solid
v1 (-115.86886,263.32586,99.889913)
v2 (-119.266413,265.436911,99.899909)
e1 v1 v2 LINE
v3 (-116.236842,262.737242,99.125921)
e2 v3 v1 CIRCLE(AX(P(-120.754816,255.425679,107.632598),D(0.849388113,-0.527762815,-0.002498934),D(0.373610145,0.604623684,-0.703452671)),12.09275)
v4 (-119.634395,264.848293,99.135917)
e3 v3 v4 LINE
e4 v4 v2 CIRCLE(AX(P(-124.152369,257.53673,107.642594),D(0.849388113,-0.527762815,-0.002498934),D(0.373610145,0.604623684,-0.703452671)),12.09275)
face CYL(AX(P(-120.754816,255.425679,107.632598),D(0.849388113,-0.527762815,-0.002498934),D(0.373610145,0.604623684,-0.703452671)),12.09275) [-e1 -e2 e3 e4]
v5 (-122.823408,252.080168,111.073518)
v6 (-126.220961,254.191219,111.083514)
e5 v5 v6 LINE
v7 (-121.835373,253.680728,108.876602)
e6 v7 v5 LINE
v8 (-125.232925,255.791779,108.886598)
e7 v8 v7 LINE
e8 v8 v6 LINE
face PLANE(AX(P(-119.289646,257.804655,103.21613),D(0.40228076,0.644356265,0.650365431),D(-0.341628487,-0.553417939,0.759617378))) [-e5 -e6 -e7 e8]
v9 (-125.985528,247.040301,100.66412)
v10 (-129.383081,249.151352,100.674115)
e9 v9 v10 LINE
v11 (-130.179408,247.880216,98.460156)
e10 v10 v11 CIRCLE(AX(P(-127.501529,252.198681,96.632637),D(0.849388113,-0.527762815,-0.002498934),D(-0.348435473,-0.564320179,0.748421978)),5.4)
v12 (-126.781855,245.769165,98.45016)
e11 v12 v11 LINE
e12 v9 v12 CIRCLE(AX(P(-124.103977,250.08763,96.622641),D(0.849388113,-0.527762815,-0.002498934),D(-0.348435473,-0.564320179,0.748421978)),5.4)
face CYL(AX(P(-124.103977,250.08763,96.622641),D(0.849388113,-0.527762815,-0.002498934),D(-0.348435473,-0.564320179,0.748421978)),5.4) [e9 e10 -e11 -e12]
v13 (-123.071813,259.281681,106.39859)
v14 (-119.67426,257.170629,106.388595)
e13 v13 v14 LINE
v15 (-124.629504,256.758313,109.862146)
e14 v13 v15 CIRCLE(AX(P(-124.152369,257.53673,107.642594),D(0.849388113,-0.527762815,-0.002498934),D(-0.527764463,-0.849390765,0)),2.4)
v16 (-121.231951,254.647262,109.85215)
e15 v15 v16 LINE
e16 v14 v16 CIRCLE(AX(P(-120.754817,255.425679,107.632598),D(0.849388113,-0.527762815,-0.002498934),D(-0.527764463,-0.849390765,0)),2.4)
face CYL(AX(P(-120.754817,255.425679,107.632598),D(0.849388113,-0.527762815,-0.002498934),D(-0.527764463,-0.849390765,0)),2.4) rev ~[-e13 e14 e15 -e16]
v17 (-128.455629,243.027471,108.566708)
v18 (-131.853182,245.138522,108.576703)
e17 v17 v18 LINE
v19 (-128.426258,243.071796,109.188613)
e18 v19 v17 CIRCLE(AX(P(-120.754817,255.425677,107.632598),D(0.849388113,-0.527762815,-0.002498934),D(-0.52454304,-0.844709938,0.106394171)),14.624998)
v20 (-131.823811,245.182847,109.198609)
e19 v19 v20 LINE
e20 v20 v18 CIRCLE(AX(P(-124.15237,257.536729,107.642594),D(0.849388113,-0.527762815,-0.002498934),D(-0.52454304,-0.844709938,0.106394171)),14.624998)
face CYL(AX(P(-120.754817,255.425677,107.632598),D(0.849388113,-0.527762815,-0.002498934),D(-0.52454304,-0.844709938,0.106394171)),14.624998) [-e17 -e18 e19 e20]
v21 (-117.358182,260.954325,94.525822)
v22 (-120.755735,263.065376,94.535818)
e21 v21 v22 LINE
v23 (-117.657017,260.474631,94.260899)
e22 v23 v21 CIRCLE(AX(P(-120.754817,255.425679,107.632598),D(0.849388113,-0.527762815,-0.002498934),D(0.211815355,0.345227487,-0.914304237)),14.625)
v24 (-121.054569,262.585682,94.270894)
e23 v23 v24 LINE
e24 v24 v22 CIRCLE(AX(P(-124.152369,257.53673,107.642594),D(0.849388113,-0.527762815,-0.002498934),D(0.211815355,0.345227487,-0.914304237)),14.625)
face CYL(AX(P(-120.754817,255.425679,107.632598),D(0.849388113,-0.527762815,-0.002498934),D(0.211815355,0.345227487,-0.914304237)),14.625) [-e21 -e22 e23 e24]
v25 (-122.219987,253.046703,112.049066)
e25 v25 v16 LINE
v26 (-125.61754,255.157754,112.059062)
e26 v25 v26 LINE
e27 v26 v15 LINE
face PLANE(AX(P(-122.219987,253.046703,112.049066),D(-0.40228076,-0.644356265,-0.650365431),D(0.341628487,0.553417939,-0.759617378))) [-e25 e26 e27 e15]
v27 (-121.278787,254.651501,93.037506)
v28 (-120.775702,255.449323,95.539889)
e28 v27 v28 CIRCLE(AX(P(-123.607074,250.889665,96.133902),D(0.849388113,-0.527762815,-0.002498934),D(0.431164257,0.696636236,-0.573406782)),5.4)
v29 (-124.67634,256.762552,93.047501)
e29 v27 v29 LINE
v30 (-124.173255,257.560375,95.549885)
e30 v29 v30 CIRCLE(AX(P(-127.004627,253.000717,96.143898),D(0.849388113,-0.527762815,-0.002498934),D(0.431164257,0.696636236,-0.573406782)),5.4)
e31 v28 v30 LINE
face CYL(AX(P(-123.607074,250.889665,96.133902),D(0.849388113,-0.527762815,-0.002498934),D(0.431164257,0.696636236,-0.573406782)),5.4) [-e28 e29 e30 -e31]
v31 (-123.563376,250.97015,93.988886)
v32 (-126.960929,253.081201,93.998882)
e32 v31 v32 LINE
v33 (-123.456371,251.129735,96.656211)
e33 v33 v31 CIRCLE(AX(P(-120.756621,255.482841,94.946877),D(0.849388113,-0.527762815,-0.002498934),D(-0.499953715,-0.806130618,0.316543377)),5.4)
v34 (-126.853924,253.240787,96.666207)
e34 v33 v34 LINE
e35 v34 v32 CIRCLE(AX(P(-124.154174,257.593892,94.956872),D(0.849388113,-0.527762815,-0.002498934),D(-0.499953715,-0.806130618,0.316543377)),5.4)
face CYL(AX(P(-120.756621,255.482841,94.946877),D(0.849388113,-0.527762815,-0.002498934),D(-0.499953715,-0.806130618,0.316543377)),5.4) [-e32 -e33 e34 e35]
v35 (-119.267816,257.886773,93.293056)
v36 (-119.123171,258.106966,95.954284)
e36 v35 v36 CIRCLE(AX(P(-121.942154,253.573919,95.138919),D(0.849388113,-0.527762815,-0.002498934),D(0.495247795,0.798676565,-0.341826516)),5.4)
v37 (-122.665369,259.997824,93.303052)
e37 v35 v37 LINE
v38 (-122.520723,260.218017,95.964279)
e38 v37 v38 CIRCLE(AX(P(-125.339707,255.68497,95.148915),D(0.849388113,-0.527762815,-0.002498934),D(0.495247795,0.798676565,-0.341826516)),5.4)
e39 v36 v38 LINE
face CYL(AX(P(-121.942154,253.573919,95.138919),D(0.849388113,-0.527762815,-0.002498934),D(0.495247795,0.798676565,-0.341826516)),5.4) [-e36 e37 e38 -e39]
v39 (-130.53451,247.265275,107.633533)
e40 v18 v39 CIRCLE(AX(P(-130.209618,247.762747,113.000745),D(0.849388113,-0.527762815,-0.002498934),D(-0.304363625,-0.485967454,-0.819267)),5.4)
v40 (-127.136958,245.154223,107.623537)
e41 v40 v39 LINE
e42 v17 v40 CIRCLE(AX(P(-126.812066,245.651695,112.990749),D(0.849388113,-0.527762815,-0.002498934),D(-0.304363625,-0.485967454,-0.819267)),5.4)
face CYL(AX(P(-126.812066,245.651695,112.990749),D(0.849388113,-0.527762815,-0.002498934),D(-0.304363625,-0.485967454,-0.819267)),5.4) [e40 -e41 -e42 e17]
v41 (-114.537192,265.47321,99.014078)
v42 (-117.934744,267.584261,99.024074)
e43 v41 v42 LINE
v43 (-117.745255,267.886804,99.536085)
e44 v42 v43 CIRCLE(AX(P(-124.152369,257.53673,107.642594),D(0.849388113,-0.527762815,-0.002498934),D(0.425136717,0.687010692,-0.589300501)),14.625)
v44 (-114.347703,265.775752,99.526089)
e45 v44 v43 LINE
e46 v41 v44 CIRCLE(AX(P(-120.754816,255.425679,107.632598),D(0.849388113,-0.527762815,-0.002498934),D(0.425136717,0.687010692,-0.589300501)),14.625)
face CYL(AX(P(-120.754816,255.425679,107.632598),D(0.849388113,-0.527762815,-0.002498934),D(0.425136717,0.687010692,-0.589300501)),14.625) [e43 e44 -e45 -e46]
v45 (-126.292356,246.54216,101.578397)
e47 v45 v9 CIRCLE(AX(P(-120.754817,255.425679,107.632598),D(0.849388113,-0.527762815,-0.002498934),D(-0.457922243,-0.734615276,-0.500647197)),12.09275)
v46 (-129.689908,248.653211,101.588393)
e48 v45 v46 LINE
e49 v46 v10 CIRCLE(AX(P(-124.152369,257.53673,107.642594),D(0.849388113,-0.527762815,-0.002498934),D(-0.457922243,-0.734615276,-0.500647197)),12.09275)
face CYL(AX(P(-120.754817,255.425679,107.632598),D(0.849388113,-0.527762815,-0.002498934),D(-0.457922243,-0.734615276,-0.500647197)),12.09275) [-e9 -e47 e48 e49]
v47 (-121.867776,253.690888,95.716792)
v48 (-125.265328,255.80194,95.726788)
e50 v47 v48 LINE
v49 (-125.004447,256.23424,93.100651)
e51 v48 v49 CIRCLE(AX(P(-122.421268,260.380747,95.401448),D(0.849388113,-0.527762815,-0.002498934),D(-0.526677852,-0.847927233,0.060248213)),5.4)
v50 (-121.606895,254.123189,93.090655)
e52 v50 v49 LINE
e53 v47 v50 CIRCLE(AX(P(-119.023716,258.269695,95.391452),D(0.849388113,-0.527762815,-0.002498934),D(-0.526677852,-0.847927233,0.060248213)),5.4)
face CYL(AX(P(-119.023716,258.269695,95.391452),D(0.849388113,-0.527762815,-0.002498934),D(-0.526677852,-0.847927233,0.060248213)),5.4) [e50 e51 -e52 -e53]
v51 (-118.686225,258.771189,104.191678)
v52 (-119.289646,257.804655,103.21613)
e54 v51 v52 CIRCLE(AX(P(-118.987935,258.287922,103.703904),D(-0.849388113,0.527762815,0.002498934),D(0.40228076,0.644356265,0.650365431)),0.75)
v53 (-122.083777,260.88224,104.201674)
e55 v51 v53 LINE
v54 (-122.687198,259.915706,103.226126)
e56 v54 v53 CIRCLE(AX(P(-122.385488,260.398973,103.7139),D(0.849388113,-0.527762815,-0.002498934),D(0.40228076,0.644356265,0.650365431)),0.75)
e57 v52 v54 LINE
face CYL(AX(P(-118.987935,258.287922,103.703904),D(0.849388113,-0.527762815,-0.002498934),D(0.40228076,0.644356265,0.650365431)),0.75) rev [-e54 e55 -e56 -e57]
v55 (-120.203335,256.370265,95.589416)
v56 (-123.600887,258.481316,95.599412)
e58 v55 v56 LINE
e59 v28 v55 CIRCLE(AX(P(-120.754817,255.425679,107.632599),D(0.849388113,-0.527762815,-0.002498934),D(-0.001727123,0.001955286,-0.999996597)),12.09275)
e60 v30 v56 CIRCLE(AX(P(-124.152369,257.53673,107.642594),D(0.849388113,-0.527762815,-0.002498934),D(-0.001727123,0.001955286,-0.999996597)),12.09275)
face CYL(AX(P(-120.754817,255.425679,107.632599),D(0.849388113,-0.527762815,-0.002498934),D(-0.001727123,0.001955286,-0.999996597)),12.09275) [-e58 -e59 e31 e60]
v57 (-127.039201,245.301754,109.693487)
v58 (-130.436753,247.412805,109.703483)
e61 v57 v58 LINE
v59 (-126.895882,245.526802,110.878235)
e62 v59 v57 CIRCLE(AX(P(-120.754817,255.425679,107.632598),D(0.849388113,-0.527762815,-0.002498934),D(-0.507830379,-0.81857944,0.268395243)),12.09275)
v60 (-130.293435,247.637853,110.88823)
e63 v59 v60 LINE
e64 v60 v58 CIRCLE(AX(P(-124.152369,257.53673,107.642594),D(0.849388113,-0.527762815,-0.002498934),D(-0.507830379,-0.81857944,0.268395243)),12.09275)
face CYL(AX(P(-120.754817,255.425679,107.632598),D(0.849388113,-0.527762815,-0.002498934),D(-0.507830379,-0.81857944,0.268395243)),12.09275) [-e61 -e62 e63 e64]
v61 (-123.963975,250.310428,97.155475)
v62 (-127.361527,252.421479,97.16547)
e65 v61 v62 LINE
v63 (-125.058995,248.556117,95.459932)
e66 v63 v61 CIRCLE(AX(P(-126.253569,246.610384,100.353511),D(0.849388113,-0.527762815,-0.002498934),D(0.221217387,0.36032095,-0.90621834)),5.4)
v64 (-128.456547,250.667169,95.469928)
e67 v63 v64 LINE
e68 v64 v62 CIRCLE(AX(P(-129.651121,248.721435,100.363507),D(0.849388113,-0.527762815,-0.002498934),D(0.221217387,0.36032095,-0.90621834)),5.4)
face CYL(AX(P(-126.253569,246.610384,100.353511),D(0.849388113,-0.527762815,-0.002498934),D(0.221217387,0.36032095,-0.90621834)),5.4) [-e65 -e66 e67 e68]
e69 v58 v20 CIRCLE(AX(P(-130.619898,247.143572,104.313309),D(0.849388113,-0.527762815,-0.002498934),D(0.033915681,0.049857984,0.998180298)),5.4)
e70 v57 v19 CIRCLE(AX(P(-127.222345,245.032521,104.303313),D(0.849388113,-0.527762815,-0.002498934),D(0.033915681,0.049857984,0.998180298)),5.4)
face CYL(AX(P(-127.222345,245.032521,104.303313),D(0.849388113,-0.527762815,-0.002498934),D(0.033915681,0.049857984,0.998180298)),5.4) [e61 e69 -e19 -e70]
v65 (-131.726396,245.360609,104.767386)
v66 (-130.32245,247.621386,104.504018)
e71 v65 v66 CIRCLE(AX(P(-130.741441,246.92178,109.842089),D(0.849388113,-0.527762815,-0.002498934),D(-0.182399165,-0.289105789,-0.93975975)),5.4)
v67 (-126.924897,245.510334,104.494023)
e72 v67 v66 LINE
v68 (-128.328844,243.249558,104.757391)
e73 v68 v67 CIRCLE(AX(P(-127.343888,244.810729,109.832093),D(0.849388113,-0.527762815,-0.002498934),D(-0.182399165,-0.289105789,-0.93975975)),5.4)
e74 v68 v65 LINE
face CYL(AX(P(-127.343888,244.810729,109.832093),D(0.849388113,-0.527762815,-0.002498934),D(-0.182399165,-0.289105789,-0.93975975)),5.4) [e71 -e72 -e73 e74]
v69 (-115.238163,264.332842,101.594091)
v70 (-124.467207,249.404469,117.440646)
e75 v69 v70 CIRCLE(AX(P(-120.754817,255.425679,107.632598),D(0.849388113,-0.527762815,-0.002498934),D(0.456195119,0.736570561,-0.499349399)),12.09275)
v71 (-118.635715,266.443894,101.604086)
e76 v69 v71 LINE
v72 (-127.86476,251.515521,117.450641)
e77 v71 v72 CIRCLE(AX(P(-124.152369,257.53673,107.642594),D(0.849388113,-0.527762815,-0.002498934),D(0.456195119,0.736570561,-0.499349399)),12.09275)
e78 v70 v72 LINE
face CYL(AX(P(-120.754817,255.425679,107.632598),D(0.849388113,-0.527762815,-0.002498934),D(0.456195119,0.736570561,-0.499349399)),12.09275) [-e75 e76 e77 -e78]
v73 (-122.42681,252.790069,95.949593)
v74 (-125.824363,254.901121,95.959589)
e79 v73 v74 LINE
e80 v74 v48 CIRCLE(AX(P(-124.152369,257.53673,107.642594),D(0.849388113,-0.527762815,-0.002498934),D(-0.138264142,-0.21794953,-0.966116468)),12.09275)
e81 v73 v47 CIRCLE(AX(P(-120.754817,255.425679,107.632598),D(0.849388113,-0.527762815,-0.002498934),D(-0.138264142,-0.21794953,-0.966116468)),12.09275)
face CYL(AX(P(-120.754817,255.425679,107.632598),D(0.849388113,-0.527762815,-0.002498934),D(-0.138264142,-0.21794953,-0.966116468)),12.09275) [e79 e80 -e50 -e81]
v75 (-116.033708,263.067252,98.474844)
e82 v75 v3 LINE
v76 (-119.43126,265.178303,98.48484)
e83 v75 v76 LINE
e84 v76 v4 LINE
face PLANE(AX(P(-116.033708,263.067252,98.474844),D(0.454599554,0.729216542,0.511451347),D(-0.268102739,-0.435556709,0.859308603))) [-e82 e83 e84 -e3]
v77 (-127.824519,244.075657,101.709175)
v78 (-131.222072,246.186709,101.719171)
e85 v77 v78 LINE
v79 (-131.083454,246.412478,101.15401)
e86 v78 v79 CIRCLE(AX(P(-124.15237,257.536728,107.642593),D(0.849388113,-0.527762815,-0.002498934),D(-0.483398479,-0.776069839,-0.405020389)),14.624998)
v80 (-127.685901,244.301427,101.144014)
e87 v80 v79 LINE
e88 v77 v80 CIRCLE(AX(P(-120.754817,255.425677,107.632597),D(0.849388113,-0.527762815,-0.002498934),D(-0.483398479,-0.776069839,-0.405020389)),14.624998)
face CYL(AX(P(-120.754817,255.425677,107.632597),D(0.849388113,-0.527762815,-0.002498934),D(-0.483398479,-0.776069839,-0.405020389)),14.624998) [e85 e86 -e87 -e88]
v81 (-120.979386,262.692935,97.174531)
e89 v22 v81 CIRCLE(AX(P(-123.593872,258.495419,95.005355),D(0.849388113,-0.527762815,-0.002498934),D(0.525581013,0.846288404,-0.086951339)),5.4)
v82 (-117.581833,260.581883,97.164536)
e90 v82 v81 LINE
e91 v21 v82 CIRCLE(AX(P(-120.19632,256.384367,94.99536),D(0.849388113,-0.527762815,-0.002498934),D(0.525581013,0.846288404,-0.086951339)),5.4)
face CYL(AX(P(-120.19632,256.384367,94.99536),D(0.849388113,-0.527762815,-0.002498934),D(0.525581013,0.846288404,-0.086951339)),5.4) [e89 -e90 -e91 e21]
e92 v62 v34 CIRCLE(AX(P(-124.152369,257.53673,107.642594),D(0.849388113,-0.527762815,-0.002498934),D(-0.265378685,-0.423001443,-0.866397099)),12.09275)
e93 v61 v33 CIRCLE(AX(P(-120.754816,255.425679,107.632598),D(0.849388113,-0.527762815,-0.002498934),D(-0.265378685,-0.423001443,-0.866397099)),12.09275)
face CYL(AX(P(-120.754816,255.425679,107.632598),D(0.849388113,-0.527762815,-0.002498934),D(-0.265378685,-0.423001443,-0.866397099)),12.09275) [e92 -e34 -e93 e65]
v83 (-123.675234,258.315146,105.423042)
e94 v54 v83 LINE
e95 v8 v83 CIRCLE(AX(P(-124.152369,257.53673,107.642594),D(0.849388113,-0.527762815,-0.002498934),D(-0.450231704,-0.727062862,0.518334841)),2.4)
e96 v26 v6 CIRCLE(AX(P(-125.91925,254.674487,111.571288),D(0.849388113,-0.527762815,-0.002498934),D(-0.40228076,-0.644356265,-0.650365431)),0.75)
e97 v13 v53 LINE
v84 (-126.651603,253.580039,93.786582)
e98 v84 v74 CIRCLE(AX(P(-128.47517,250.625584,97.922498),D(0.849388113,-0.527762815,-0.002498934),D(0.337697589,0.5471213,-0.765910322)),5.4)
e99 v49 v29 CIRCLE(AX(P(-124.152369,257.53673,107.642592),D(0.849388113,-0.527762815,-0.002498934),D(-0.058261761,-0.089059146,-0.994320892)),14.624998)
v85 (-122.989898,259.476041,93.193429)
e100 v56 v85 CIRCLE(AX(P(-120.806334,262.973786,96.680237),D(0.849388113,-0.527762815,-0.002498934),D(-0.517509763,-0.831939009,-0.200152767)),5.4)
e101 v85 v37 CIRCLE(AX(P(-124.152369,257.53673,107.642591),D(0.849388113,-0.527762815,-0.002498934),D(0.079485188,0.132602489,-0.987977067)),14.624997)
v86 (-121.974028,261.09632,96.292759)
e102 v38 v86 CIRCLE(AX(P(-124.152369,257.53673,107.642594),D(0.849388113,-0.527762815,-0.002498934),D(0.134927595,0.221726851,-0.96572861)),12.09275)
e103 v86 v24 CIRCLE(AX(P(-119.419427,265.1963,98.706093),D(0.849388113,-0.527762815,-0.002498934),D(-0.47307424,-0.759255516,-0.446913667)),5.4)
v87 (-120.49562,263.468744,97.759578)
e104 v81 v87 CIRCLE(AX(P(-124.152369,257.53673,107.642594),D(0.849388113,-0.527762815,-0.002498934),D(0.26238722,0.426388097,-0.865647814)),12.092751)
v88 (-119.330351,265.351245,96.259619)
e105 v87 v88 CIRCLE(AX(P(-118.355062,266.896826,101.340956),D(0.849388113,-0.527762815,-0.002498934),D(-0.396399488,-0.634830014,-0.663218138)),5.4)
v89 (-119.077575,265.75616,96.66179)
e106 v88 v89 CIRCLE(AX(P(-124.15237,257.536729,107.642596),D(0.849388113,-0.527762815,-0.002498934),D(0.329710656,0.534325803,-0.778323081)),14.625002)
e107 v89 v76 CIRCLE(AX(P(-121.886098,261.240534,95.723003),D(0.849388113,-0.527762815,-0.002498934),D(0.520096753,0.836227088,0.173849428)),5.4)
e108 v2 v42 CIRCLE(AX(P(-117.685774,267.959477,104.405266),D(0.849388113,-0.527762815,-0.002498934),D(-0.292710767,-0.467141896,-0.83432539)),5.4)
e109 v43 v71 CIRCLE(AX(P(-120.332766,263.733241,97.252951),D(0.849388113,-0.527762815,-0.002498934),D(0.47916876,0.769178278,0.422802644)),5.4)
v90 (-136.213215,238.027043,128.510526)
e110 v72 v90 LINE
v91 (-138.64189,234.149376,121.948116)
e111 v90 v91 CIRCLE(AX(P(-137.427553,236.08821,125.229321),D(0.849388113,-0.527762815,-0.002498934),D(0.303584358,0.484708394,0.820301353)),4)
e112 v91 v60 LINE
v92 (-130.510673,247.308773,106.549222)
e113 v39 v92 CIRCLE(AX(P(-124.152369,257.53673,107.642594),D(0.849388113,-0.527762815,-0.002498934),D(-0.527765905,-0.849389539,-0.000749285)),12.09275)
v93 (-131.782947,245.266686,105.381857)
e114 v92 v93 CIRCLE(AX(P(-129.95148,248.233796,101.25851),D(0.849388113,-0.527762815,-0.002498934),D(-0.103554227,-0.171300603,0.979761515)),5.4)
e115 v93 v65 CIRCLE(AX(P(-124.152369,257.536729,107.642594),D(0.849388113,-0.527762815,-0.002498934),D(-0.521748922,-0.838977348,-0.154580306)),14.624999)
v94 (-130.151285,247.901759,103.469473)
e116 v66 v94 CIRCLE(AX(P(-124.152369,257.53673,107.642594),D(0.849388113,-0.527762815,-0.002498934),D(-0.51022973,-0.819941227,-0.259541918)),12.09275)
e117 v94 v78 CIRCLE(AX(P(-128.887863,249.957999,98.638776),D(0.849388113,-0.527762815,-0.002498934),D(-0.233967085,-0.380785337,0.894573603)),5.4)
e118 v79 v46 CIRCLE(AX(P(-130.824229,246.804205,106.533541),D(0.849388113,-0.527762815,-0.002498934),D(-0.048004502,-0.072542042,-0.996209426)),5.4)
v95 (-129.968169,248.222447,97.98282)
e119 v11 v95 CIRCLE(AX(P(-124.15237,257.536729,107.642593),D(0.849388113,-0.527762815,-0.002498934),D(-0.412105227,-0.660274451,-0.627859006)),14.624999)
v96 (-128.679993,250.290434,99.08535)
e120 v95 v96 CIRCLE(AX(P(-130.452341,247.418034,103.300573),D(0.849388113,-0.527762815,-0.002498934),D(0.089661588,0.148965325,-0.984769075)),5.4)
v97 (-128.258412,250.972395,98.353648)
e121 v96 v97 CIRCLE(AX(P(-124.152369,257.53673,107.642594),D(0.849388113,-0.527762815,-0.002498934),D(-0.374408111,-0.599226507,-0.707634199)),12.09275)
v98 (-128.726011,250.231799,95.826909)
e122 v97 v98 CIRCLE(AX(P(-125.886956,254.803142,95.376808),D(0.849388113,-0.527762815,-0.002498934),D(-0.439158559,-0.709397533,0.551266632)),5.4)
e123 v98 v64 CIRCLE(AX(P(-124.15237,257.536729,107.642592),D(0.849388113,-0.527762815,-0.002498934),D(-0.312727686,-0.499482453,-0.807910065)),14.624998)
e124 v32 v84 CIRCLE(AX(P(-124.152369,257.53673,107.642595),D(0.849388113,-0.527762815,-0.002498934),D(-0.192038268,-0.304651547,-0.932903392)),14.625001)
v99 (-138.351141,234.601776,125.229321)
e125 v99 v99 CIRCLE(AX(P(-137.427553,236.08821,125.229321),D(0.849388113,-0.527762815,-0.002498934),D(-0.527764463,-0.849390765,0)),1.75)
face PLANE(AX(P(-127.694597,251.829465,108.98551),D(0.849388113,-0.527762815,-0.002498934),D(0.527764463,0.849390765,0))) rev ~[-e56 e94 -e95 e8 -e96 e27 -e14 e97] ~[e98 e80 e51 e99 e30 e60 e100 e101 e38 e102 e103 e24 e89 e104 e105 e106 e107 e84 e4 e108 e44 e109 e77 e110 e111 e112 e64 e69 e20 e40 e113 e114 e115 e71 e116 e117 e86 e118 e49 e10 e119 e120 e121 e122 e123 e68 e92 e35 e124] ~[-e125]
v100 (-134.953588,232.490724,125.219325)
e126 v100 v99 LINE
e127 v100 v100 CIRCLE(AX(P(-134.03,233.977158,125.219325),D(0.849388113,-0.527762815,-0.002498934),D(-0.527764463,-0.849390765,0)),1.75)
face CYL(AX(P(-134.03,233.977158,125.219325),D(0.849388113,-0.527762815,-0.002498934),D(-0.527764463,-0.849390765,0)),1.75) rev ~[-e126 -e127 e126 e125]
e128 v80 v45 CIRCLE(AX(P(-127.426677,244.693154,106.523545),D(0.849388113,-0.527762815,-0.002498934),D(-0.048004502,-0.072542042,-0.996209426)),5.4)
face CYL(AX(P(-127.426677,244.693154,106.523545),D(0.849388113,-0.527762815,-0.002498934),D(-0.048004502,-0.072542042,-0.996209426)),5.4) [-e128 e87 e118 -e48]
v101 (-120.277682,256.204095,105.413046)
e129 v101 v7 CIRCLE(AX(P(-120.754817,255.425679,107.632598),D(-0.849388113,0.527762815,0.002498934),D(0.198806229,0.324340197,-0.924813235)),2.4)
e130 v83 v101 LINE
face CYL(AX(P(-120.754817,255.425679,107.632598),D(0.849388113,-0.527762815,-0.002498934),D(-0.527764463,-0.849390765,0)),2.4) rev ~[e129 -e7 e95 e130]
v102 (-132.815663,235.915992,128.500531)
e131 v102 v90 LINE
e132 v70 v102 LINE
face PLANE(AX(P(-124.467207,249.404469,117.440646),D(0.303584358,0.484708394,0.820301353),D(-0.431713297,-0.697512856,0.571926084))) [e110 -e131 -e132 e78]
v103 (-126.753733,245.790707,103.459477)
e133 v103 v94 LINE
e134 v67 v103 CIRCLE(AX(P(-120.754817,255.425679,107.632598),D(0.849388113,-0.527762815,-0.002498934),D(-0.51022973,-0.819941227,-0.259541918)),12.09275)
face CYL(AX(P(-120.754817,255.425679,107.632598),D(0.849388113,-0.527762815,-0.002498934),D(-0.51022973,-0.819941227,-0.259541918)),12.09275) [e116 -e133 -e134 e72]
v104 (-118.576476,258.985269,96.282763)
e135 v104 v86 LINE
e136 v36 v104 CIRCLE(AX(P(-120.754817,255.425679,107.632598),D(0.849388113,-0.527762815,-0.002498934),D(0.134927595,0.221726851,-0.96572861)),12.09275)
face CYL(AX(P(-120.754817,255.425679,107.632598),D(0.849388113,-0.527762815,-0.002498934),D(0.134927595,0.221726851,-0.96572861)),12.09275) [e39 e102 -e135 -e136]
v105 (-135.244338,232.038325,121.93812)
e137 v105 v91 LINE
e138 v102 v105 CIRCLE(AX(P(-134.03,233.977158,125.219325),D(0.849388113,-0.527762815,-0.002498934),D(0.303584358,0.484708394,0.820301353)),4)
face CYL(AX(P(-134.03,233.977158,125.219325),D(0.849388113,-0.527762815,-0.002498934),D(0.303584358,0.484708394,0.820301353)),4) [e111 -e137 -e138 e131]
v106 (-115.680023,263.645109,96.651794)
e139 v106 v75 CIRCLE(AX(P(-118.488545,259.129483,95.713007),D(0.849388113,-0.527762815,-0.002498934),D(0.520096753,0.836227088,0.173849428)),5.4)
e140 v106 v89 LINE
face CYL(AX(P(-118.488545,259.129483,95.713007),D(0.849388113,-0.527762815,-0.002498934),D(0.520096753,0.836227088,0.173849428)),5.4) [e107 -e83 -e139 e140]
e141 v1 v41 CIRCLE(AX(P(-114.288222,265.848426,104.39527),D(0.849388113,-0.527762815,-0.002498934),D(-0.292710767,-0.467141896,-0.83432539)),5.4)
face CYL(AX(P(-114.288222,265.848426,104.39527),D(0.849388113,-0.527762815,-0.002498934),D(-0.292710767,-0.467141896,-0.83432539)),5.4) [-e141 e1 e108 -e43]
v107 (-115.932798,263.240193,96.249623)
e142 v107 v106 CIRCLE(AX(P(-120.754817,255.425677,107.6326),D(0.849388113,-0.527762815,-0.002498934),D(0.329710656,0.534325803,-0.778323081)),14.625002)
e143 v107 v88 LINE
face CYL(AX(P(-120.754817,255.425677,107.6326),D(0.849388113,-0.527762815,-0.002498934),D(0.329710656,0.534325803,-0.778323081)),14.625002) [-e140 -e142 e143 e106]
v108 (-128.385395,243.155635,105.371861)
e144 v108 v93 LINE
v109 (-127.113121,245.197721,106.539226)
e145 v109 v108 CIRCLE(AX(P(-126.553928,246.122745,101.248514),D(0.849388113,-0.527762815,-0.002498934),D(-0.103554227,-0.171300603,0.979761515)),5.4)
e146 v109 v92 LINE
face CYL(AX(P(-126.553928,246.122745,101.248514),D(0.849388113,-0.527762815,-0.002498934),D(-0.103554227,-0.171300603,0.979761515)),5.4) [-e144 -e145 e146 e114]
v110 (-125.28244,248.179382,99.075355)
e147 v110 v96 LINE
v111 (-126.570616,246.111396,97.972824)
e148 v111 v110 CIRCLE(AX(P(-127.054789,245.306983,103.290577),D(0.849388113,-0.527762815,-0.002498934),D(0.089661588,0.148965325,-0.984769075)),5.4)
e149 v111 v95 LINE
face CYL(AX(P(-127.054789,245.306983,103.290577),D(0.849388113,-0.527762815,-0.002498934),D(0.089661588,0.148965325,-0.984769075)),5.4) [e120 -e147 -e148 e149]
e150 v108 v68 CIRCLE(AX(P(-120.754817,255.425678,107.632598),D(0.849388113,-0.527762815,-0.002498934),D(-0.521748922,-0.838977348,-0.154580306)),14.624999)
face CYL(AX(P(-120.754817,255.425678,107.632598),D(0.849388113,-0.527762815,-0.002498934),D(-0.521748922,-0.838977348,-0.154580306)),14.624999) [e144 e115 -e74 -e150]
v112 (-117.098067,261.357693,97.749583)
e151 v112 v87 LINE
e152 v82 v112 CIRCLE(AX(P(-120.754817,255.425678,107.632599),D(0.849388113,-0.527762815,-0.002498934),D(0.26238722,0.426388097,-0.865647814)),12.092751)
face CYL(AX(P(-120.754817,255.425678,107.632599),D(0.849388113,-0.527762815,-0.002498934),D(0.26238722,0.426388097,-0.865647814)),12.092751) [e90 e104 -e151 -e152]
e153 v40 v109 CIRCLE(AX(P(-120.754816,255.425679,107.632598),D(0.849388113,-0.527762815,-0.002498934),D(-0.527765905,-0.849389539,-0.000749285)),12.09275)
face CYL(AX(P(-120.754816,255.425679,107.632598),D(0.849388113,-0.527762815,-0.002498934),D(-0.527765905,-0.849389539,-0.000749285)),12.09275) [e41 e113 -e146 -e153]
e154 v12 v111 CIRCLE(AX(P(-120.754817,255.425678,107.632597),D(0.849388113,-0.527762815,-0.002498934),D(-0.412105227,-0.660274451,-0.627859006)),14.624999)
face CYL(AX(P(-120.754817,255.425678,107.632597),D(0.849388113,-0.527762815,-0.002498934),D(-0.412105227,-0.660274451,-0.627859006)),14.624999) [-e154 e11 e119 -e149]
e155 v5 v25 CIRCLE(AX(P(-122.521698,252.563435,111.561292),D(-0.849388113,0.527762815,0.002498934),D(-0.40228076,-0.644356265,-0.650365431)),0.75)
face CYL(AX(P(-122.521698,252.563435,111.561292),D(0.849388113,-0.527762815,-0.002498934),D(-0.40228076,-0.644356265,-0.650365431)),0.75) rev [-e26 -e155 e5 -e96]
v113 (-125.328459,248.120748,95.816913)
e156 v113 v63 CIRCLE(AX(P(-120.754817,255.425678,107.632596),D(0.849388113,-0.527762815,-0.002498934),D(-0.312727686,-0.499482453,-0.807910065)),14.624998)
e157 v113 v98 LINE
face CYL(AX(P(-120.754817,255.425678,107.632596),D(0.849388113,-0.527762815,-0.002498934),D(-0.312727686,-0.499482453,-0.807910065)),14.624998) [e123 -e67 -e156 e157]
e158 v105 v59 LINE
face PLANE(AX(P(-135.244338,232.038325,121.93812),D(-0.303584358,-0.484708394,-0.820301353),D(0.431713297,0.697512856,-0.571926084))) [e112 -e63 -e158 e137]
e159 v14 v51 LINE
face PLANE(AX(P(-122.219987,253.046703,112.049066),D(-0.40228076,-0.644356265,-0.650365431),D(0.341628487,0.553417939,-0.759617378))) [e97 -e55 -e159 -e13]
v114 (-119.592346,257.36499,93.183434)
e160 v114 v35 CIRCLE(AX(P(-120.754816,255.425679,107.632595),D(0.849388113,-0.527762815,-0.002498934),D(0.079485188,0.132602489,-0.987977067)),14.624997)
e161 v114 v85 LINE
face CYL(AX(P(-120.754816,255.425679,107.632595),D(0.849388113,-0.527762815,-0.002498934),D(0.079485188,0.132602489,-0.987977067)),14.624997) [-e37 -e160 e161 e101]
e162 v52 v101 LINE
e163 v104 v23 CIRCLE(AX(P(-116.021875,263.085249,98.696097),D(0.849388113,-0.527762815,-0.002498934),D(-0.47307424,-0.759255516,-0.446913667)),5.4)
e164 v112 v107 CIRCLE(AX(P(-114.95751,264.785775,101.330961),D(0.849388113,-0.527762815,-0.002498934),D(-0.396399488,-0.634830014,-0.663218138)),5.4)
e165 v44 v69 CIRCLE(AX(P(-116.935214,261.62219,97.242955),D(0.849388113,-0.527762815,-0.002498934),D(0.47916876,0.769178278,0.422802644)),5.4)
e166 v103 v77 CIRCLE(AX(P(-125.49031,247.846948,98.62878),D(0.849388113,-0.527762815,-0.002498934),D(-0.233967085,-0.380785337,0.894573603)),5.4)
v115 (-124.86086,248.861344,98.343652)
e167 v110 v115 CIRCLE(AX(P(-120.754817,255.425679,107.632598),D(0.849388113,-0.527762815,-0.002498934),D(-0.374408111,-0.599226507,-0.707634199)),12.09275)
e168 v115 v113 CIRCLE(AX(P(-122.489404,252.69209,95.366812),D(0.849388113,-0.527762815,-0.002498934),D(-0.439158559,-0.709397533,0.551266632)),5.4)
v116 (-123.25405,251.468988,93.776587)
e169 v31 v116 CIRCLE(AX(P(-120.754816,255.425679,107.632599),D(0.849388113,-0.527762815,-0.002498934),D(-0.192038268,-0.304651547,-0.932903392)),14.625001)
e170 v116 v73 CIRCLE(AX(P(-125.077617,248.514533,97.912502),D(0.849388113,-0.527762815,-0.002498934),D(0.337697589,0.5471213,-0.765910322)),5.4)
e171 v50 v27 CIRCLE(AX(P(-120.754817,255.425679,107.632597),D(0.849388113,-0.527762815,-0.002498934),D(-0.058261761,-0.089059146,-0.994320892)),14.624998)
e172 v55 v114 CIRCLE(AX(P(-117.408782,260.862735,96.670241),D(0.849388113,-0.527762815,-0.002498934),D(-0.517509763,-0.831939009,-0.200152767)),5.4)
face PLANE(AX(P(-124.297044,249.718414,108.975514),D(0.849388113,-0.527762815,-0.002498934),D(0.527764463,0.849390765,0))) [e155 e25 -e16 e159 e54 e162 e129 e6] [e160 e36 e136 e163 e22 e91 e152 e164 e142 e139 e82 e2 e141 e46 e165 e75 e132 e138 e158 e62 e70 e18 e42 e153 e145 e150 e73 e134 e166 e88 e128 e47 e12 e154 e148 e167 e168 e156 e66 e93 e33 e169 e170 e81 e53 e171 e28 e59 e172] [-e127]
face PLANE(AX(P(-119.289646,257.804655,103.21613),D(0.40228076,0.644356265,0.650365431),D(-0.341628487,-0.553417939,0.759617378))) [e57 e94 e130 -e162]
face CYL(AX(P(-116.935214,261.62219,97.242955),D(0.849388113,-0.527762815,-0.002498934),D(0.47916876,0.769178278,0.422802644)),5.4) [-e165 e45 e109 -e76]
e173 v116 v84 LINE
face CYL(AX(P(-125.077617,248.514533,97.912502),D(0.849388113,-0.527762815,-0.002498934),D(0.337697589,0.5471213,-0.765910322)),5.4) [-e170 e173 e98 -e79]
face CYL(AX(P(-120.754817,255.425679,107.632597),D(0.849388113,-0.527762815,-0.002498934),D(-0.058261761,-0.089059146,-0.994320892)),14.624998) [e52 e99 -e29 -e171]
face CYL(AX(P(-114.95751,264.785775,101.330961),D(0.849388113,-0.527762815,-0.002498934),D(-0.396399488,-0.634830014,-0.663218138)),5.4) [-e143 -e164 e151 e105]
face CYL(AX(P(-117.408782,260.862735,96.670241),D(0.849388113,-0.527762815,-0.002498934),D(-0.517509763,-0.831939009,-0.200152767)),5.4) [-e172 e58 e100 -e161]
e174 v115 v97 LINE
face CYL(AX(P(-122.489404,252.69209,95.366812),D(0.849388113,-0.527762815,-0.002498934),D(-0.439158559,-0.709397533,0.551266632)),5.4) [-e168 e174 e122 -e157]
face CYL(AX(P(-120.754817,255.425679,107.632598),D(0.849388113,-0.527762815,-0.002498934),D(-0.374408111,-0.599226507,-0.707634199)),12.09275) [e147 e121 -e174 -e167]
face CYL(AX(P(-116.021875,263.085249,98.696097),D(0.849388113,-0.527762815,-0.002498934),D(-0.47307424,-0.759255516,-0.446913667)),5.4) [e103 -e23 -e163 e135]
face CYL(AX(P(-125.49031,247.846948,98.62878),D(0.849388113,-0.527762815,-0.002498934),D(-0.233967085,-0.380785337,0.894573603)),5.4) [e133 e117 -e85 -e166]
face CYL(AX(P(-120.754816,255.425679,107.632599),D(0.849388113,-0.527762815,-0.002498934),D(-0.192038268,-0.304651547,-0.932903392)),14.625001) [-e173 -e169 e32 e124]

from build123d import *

# Parameters (mm, degrees)
SKETCH1_R           = 1.75
SKETCH1_R_2         = 2.4
BOSS_EXTRUDE1_DEPTH = 4
CUT_EXTRUDE1_DEPTH  = 10


with BuildPart() as part:
    # Sketch1 → Boss-Extrude1 (new body)
    with BuildSketch(Plane(origin=(-201.849311144, 125.418002604, 0.593848714), x_dir=(0.5277644625295516, 0.8493907652493602, 0), z_dir=(0.8493881131629323, -0.5277628146696672, -0.002498933665448049))):
        with BuildLine():
            Line((162.208427101, 97.881301323), (161.820912094, 98.53237983))
            ThreePointArc((161.820912094, 98.53237983), (162.176155218, 98.906966779), (162.515086857, 99.296374539))
            ThreePointArc((162.515086857, 99.296374539), (163.723385062, 98.699566989), (165.041833408, 98.420536953))
            ThreePointArc((165.041833408, 98.420536953), (165.22305653, 98.674638573), (165.398816038, 98.932549505))
            ThreePointArc((165.398816038, 98.932549505), (164.681084034, 100.073174148), (163.703268012, 101.000557365))
            ThreePointArc((163.703268012, 101.000557365), (161.330105787, 116.014599459), (146.152484133, 116.847161686))
            Line((146.152484133, 116.847161686), (130.289477893, 127.907081314))
            ThreePointArc((130.289477893, 127.907081314), (124.720550757, 126.913577135), (125.714054936, 121.344649999))
            Line((125.714054936, 121.344649999), (141.577061176, 110.284730371))
            ThreePointArc((141.577061176, 110.284730371), (141.428783224, 109.695705854), (141.310268829, 109.099978927))
            ThreePointArc((141.310268829, 109.099978927), (139.965448113, 109.012680325), (138.684123333, 108.595103251))
            ThreePointArc((138.684123333, 108.595103251), (138.654230316, 108.284433232), (138.630973584, 107.973196059))
            ThreePointArc((138.630973584, 107.973196059), (139.822860053, 107.344252144), (141.133365177, 107.03002273))
            ThreePointArc((141.133365177, 107.03002273), (141.145956651, 106.487309655), (141.182892388, 105.945708529))
            ThreePointArc((141.182892388, 105.945708529), (139.906489868, 105.513319341), (138.776902071, 104.778339605))
            ThreePointArc((138.776902071, 104.778339605), (138.828434951, 104.470518528), (138.88652478, 104.163867219))
            ThreePointArc((138.88652478, 104.163867219), (140.200581367, 103.864836966), (141.547760668, 103.900498345))
            ThreePointArc((141.547760668, 103.900498345), (141.700387578, 103.379536682), (141.876241447, 102.86594984))
            ThreePointArc((141.876241447, 102.86594984), (140.755241845, 102.117936675), (139.854370572, 101.115641931))
            ThreePointArc((139.854370572, 101.115641931), (139.983817469, 100.831647293), (140.119295134, 100.550479629))
            ThreePointArc((140.119295134, 100.550479629), (141.465971053, 100.601741456), (142.758016489, 100.984863363))
            ThreePointArc((142.758016489, 100.984863363), (143.040277563, 100.521155789), (143.343065412, 100.070583325))
            ThreePointArc((143.343065412, 100.070583325), (142.453862998, 99.057922043), (141.843101138, 97.856617022))
            ThreePointArc((141.843101138, 97.856617022), (142.04164046, 97.61580259), (142.245273383, 97.379279681))
            ThreePointArc((142.245273383, 97.379279681), (143.532794895, 97.777340179), (144.681655704, 98.481813489))
            ThreePointArc((144.681655704, 98.481813489), (145.074315316, 98.10696091), (145.483402655, 97.750108592))
            ThreePointArc((145.483402655, 97.750108592), (144.886595105, 96.541810387), (144.607565069, 95.22336204))
            ThreePointArc((144.607565069, 95.22336204), (144.861666689, 95.042138918), (145.119577621, 94.866379411))
            ThreePointArc((145.119577621, 94.866379411), (146.260202264, 95.584111414), (147.18758548, 96.561927437))
            ThreePointArc((147.18758548, 96.561927437), (147.663884528, 96.301475435), (148.15139273, 96.062662159))
            ThreePointArc((148.15139273, 96.062662159), (147.887651491, 94.741070557), (147.959368715, 93.395328961))
            ThreePointArc((147.959368715, 93.395328961), (148.251716028, 93.286047206), (148.546328766, 93.183028819))
            ThreePointArc((148.546328766, 93.183028819), (149.462324855, 94.171520079), (150.105030845, 95.356042267))
            ThreePointArc((150.105030845, 95.356042267), (150.632510335, 95.227740216), (151.165216521, 95.123240713))
            ThreePointArc((151.165216521, 95.123240713), (151.252515124, 93.778419997), (151.670092198, 92.497095217))
            ThreePointArc((151.670092198, 92.497095217), (151.980762217, 92.4672022), (152.29199939, 92.443945468))
            ThreePointArc((152.29199939, 92.443945468), (152.920943305, 93.635831937), (153.235172718, 94.946337061))
            ThreePointArc((153.235172718, 94.946337061), (153.777885794, 94.958928535), (154.319486919, 94.995864272))
            ThreePointArc((154.319486919, 94.995864272), (154.751876108, 93.719461752), (155.486855844, 92.589873955))
            ThreePointArc((155.486855844, 92.589873955), (155.794676921, 92.641406835), (156.10132823, 92.699496665))
            ThreePointArc((156.10132823, 92.699496665), (156.400358482, 94.013553251), (156.364697104, 95.360732552))
            ThreePointArc((156.364697104, 95.360732552), (156.885658766, 95.513359462), (157.399245608, 95.689213331))
            ThreePointArc((157.399245608, 95.689213331), (158.147258774, 94.568213729), (159.149553518, 93.667342456))
            ThreePointArc((159.149553518, 93.667342456), (159.433548155, 93.796789353), (159.71471582, 93.932267018))
            ThreePointArc((159.71471582, 93.932267018), (159.663453993, 95.278942937), (159.280332086, 96.570988373))
            ThreePointArc((159.280332086, 96.570988373), (159.744039659, 96.853249447), (160.194612124, 97.156037296))
            ThreePointArc((160.194612124, 97.156037296), (161.207273405, 96.266834883), (162.408578427, 95.656073022))
            ThreePointArc((162.408578427, 95.656073022), (162.649392859, 95.854612345), (162.885915768, 96.058245267))
            ThreePointArc((162.885915768, 96.058245267), (162.629922136, 97.000525318), (162.208427101, 97.881301323))
        make_face()
        with Locations(Location((128.001766415, 124.625865657, 0), (0, 0, 180))):
            Circle(SKETCH1_R, mode=Mode.SUBTRACT)
        with Locations(Location((153.226111782, 107.039083666, 0), (0, 0, 180))):
            Circle(SKETCH1_R_2, mode=Mode.SUBTRACT)
    extrude(amount=-BOSS_EXTRUDE1_DEPTH)

    # Sketch3 → Cut-Extrude1 (cut)
    with BuildSketch(Plane(origin=(-201.849311144, 125.418002604, 0.593848714), x_dir=(-0.0021225711784023066, 0.0013188483828421916, -0.9999968776603934), z_dir=(0.8493881131629325, -0.527762814669667, -0.002498933665448049))):
        with BuildLine():
            Line((-111.455565577, 150.432166351), (-103.598152949, 157.159486839))
            ThreePointArc((-103.598152949, 157.159486839), (-102.54066254, 157.077547623), (-102.622601756, 156.020057214))
            Line((-102.622601756, 156.020057214), (-110.480014384, 149.292736726))
            ThreePointArc((-110.480014384, 149.292736726), (-111.537504793, 149.374675942), (-111.455565577, 150.432166351))
        make_face()
    extrude(amount=-CUT_EXTRUDE1_DEPTH, mode=Mode.SUBTRACT)


solid = part.part
